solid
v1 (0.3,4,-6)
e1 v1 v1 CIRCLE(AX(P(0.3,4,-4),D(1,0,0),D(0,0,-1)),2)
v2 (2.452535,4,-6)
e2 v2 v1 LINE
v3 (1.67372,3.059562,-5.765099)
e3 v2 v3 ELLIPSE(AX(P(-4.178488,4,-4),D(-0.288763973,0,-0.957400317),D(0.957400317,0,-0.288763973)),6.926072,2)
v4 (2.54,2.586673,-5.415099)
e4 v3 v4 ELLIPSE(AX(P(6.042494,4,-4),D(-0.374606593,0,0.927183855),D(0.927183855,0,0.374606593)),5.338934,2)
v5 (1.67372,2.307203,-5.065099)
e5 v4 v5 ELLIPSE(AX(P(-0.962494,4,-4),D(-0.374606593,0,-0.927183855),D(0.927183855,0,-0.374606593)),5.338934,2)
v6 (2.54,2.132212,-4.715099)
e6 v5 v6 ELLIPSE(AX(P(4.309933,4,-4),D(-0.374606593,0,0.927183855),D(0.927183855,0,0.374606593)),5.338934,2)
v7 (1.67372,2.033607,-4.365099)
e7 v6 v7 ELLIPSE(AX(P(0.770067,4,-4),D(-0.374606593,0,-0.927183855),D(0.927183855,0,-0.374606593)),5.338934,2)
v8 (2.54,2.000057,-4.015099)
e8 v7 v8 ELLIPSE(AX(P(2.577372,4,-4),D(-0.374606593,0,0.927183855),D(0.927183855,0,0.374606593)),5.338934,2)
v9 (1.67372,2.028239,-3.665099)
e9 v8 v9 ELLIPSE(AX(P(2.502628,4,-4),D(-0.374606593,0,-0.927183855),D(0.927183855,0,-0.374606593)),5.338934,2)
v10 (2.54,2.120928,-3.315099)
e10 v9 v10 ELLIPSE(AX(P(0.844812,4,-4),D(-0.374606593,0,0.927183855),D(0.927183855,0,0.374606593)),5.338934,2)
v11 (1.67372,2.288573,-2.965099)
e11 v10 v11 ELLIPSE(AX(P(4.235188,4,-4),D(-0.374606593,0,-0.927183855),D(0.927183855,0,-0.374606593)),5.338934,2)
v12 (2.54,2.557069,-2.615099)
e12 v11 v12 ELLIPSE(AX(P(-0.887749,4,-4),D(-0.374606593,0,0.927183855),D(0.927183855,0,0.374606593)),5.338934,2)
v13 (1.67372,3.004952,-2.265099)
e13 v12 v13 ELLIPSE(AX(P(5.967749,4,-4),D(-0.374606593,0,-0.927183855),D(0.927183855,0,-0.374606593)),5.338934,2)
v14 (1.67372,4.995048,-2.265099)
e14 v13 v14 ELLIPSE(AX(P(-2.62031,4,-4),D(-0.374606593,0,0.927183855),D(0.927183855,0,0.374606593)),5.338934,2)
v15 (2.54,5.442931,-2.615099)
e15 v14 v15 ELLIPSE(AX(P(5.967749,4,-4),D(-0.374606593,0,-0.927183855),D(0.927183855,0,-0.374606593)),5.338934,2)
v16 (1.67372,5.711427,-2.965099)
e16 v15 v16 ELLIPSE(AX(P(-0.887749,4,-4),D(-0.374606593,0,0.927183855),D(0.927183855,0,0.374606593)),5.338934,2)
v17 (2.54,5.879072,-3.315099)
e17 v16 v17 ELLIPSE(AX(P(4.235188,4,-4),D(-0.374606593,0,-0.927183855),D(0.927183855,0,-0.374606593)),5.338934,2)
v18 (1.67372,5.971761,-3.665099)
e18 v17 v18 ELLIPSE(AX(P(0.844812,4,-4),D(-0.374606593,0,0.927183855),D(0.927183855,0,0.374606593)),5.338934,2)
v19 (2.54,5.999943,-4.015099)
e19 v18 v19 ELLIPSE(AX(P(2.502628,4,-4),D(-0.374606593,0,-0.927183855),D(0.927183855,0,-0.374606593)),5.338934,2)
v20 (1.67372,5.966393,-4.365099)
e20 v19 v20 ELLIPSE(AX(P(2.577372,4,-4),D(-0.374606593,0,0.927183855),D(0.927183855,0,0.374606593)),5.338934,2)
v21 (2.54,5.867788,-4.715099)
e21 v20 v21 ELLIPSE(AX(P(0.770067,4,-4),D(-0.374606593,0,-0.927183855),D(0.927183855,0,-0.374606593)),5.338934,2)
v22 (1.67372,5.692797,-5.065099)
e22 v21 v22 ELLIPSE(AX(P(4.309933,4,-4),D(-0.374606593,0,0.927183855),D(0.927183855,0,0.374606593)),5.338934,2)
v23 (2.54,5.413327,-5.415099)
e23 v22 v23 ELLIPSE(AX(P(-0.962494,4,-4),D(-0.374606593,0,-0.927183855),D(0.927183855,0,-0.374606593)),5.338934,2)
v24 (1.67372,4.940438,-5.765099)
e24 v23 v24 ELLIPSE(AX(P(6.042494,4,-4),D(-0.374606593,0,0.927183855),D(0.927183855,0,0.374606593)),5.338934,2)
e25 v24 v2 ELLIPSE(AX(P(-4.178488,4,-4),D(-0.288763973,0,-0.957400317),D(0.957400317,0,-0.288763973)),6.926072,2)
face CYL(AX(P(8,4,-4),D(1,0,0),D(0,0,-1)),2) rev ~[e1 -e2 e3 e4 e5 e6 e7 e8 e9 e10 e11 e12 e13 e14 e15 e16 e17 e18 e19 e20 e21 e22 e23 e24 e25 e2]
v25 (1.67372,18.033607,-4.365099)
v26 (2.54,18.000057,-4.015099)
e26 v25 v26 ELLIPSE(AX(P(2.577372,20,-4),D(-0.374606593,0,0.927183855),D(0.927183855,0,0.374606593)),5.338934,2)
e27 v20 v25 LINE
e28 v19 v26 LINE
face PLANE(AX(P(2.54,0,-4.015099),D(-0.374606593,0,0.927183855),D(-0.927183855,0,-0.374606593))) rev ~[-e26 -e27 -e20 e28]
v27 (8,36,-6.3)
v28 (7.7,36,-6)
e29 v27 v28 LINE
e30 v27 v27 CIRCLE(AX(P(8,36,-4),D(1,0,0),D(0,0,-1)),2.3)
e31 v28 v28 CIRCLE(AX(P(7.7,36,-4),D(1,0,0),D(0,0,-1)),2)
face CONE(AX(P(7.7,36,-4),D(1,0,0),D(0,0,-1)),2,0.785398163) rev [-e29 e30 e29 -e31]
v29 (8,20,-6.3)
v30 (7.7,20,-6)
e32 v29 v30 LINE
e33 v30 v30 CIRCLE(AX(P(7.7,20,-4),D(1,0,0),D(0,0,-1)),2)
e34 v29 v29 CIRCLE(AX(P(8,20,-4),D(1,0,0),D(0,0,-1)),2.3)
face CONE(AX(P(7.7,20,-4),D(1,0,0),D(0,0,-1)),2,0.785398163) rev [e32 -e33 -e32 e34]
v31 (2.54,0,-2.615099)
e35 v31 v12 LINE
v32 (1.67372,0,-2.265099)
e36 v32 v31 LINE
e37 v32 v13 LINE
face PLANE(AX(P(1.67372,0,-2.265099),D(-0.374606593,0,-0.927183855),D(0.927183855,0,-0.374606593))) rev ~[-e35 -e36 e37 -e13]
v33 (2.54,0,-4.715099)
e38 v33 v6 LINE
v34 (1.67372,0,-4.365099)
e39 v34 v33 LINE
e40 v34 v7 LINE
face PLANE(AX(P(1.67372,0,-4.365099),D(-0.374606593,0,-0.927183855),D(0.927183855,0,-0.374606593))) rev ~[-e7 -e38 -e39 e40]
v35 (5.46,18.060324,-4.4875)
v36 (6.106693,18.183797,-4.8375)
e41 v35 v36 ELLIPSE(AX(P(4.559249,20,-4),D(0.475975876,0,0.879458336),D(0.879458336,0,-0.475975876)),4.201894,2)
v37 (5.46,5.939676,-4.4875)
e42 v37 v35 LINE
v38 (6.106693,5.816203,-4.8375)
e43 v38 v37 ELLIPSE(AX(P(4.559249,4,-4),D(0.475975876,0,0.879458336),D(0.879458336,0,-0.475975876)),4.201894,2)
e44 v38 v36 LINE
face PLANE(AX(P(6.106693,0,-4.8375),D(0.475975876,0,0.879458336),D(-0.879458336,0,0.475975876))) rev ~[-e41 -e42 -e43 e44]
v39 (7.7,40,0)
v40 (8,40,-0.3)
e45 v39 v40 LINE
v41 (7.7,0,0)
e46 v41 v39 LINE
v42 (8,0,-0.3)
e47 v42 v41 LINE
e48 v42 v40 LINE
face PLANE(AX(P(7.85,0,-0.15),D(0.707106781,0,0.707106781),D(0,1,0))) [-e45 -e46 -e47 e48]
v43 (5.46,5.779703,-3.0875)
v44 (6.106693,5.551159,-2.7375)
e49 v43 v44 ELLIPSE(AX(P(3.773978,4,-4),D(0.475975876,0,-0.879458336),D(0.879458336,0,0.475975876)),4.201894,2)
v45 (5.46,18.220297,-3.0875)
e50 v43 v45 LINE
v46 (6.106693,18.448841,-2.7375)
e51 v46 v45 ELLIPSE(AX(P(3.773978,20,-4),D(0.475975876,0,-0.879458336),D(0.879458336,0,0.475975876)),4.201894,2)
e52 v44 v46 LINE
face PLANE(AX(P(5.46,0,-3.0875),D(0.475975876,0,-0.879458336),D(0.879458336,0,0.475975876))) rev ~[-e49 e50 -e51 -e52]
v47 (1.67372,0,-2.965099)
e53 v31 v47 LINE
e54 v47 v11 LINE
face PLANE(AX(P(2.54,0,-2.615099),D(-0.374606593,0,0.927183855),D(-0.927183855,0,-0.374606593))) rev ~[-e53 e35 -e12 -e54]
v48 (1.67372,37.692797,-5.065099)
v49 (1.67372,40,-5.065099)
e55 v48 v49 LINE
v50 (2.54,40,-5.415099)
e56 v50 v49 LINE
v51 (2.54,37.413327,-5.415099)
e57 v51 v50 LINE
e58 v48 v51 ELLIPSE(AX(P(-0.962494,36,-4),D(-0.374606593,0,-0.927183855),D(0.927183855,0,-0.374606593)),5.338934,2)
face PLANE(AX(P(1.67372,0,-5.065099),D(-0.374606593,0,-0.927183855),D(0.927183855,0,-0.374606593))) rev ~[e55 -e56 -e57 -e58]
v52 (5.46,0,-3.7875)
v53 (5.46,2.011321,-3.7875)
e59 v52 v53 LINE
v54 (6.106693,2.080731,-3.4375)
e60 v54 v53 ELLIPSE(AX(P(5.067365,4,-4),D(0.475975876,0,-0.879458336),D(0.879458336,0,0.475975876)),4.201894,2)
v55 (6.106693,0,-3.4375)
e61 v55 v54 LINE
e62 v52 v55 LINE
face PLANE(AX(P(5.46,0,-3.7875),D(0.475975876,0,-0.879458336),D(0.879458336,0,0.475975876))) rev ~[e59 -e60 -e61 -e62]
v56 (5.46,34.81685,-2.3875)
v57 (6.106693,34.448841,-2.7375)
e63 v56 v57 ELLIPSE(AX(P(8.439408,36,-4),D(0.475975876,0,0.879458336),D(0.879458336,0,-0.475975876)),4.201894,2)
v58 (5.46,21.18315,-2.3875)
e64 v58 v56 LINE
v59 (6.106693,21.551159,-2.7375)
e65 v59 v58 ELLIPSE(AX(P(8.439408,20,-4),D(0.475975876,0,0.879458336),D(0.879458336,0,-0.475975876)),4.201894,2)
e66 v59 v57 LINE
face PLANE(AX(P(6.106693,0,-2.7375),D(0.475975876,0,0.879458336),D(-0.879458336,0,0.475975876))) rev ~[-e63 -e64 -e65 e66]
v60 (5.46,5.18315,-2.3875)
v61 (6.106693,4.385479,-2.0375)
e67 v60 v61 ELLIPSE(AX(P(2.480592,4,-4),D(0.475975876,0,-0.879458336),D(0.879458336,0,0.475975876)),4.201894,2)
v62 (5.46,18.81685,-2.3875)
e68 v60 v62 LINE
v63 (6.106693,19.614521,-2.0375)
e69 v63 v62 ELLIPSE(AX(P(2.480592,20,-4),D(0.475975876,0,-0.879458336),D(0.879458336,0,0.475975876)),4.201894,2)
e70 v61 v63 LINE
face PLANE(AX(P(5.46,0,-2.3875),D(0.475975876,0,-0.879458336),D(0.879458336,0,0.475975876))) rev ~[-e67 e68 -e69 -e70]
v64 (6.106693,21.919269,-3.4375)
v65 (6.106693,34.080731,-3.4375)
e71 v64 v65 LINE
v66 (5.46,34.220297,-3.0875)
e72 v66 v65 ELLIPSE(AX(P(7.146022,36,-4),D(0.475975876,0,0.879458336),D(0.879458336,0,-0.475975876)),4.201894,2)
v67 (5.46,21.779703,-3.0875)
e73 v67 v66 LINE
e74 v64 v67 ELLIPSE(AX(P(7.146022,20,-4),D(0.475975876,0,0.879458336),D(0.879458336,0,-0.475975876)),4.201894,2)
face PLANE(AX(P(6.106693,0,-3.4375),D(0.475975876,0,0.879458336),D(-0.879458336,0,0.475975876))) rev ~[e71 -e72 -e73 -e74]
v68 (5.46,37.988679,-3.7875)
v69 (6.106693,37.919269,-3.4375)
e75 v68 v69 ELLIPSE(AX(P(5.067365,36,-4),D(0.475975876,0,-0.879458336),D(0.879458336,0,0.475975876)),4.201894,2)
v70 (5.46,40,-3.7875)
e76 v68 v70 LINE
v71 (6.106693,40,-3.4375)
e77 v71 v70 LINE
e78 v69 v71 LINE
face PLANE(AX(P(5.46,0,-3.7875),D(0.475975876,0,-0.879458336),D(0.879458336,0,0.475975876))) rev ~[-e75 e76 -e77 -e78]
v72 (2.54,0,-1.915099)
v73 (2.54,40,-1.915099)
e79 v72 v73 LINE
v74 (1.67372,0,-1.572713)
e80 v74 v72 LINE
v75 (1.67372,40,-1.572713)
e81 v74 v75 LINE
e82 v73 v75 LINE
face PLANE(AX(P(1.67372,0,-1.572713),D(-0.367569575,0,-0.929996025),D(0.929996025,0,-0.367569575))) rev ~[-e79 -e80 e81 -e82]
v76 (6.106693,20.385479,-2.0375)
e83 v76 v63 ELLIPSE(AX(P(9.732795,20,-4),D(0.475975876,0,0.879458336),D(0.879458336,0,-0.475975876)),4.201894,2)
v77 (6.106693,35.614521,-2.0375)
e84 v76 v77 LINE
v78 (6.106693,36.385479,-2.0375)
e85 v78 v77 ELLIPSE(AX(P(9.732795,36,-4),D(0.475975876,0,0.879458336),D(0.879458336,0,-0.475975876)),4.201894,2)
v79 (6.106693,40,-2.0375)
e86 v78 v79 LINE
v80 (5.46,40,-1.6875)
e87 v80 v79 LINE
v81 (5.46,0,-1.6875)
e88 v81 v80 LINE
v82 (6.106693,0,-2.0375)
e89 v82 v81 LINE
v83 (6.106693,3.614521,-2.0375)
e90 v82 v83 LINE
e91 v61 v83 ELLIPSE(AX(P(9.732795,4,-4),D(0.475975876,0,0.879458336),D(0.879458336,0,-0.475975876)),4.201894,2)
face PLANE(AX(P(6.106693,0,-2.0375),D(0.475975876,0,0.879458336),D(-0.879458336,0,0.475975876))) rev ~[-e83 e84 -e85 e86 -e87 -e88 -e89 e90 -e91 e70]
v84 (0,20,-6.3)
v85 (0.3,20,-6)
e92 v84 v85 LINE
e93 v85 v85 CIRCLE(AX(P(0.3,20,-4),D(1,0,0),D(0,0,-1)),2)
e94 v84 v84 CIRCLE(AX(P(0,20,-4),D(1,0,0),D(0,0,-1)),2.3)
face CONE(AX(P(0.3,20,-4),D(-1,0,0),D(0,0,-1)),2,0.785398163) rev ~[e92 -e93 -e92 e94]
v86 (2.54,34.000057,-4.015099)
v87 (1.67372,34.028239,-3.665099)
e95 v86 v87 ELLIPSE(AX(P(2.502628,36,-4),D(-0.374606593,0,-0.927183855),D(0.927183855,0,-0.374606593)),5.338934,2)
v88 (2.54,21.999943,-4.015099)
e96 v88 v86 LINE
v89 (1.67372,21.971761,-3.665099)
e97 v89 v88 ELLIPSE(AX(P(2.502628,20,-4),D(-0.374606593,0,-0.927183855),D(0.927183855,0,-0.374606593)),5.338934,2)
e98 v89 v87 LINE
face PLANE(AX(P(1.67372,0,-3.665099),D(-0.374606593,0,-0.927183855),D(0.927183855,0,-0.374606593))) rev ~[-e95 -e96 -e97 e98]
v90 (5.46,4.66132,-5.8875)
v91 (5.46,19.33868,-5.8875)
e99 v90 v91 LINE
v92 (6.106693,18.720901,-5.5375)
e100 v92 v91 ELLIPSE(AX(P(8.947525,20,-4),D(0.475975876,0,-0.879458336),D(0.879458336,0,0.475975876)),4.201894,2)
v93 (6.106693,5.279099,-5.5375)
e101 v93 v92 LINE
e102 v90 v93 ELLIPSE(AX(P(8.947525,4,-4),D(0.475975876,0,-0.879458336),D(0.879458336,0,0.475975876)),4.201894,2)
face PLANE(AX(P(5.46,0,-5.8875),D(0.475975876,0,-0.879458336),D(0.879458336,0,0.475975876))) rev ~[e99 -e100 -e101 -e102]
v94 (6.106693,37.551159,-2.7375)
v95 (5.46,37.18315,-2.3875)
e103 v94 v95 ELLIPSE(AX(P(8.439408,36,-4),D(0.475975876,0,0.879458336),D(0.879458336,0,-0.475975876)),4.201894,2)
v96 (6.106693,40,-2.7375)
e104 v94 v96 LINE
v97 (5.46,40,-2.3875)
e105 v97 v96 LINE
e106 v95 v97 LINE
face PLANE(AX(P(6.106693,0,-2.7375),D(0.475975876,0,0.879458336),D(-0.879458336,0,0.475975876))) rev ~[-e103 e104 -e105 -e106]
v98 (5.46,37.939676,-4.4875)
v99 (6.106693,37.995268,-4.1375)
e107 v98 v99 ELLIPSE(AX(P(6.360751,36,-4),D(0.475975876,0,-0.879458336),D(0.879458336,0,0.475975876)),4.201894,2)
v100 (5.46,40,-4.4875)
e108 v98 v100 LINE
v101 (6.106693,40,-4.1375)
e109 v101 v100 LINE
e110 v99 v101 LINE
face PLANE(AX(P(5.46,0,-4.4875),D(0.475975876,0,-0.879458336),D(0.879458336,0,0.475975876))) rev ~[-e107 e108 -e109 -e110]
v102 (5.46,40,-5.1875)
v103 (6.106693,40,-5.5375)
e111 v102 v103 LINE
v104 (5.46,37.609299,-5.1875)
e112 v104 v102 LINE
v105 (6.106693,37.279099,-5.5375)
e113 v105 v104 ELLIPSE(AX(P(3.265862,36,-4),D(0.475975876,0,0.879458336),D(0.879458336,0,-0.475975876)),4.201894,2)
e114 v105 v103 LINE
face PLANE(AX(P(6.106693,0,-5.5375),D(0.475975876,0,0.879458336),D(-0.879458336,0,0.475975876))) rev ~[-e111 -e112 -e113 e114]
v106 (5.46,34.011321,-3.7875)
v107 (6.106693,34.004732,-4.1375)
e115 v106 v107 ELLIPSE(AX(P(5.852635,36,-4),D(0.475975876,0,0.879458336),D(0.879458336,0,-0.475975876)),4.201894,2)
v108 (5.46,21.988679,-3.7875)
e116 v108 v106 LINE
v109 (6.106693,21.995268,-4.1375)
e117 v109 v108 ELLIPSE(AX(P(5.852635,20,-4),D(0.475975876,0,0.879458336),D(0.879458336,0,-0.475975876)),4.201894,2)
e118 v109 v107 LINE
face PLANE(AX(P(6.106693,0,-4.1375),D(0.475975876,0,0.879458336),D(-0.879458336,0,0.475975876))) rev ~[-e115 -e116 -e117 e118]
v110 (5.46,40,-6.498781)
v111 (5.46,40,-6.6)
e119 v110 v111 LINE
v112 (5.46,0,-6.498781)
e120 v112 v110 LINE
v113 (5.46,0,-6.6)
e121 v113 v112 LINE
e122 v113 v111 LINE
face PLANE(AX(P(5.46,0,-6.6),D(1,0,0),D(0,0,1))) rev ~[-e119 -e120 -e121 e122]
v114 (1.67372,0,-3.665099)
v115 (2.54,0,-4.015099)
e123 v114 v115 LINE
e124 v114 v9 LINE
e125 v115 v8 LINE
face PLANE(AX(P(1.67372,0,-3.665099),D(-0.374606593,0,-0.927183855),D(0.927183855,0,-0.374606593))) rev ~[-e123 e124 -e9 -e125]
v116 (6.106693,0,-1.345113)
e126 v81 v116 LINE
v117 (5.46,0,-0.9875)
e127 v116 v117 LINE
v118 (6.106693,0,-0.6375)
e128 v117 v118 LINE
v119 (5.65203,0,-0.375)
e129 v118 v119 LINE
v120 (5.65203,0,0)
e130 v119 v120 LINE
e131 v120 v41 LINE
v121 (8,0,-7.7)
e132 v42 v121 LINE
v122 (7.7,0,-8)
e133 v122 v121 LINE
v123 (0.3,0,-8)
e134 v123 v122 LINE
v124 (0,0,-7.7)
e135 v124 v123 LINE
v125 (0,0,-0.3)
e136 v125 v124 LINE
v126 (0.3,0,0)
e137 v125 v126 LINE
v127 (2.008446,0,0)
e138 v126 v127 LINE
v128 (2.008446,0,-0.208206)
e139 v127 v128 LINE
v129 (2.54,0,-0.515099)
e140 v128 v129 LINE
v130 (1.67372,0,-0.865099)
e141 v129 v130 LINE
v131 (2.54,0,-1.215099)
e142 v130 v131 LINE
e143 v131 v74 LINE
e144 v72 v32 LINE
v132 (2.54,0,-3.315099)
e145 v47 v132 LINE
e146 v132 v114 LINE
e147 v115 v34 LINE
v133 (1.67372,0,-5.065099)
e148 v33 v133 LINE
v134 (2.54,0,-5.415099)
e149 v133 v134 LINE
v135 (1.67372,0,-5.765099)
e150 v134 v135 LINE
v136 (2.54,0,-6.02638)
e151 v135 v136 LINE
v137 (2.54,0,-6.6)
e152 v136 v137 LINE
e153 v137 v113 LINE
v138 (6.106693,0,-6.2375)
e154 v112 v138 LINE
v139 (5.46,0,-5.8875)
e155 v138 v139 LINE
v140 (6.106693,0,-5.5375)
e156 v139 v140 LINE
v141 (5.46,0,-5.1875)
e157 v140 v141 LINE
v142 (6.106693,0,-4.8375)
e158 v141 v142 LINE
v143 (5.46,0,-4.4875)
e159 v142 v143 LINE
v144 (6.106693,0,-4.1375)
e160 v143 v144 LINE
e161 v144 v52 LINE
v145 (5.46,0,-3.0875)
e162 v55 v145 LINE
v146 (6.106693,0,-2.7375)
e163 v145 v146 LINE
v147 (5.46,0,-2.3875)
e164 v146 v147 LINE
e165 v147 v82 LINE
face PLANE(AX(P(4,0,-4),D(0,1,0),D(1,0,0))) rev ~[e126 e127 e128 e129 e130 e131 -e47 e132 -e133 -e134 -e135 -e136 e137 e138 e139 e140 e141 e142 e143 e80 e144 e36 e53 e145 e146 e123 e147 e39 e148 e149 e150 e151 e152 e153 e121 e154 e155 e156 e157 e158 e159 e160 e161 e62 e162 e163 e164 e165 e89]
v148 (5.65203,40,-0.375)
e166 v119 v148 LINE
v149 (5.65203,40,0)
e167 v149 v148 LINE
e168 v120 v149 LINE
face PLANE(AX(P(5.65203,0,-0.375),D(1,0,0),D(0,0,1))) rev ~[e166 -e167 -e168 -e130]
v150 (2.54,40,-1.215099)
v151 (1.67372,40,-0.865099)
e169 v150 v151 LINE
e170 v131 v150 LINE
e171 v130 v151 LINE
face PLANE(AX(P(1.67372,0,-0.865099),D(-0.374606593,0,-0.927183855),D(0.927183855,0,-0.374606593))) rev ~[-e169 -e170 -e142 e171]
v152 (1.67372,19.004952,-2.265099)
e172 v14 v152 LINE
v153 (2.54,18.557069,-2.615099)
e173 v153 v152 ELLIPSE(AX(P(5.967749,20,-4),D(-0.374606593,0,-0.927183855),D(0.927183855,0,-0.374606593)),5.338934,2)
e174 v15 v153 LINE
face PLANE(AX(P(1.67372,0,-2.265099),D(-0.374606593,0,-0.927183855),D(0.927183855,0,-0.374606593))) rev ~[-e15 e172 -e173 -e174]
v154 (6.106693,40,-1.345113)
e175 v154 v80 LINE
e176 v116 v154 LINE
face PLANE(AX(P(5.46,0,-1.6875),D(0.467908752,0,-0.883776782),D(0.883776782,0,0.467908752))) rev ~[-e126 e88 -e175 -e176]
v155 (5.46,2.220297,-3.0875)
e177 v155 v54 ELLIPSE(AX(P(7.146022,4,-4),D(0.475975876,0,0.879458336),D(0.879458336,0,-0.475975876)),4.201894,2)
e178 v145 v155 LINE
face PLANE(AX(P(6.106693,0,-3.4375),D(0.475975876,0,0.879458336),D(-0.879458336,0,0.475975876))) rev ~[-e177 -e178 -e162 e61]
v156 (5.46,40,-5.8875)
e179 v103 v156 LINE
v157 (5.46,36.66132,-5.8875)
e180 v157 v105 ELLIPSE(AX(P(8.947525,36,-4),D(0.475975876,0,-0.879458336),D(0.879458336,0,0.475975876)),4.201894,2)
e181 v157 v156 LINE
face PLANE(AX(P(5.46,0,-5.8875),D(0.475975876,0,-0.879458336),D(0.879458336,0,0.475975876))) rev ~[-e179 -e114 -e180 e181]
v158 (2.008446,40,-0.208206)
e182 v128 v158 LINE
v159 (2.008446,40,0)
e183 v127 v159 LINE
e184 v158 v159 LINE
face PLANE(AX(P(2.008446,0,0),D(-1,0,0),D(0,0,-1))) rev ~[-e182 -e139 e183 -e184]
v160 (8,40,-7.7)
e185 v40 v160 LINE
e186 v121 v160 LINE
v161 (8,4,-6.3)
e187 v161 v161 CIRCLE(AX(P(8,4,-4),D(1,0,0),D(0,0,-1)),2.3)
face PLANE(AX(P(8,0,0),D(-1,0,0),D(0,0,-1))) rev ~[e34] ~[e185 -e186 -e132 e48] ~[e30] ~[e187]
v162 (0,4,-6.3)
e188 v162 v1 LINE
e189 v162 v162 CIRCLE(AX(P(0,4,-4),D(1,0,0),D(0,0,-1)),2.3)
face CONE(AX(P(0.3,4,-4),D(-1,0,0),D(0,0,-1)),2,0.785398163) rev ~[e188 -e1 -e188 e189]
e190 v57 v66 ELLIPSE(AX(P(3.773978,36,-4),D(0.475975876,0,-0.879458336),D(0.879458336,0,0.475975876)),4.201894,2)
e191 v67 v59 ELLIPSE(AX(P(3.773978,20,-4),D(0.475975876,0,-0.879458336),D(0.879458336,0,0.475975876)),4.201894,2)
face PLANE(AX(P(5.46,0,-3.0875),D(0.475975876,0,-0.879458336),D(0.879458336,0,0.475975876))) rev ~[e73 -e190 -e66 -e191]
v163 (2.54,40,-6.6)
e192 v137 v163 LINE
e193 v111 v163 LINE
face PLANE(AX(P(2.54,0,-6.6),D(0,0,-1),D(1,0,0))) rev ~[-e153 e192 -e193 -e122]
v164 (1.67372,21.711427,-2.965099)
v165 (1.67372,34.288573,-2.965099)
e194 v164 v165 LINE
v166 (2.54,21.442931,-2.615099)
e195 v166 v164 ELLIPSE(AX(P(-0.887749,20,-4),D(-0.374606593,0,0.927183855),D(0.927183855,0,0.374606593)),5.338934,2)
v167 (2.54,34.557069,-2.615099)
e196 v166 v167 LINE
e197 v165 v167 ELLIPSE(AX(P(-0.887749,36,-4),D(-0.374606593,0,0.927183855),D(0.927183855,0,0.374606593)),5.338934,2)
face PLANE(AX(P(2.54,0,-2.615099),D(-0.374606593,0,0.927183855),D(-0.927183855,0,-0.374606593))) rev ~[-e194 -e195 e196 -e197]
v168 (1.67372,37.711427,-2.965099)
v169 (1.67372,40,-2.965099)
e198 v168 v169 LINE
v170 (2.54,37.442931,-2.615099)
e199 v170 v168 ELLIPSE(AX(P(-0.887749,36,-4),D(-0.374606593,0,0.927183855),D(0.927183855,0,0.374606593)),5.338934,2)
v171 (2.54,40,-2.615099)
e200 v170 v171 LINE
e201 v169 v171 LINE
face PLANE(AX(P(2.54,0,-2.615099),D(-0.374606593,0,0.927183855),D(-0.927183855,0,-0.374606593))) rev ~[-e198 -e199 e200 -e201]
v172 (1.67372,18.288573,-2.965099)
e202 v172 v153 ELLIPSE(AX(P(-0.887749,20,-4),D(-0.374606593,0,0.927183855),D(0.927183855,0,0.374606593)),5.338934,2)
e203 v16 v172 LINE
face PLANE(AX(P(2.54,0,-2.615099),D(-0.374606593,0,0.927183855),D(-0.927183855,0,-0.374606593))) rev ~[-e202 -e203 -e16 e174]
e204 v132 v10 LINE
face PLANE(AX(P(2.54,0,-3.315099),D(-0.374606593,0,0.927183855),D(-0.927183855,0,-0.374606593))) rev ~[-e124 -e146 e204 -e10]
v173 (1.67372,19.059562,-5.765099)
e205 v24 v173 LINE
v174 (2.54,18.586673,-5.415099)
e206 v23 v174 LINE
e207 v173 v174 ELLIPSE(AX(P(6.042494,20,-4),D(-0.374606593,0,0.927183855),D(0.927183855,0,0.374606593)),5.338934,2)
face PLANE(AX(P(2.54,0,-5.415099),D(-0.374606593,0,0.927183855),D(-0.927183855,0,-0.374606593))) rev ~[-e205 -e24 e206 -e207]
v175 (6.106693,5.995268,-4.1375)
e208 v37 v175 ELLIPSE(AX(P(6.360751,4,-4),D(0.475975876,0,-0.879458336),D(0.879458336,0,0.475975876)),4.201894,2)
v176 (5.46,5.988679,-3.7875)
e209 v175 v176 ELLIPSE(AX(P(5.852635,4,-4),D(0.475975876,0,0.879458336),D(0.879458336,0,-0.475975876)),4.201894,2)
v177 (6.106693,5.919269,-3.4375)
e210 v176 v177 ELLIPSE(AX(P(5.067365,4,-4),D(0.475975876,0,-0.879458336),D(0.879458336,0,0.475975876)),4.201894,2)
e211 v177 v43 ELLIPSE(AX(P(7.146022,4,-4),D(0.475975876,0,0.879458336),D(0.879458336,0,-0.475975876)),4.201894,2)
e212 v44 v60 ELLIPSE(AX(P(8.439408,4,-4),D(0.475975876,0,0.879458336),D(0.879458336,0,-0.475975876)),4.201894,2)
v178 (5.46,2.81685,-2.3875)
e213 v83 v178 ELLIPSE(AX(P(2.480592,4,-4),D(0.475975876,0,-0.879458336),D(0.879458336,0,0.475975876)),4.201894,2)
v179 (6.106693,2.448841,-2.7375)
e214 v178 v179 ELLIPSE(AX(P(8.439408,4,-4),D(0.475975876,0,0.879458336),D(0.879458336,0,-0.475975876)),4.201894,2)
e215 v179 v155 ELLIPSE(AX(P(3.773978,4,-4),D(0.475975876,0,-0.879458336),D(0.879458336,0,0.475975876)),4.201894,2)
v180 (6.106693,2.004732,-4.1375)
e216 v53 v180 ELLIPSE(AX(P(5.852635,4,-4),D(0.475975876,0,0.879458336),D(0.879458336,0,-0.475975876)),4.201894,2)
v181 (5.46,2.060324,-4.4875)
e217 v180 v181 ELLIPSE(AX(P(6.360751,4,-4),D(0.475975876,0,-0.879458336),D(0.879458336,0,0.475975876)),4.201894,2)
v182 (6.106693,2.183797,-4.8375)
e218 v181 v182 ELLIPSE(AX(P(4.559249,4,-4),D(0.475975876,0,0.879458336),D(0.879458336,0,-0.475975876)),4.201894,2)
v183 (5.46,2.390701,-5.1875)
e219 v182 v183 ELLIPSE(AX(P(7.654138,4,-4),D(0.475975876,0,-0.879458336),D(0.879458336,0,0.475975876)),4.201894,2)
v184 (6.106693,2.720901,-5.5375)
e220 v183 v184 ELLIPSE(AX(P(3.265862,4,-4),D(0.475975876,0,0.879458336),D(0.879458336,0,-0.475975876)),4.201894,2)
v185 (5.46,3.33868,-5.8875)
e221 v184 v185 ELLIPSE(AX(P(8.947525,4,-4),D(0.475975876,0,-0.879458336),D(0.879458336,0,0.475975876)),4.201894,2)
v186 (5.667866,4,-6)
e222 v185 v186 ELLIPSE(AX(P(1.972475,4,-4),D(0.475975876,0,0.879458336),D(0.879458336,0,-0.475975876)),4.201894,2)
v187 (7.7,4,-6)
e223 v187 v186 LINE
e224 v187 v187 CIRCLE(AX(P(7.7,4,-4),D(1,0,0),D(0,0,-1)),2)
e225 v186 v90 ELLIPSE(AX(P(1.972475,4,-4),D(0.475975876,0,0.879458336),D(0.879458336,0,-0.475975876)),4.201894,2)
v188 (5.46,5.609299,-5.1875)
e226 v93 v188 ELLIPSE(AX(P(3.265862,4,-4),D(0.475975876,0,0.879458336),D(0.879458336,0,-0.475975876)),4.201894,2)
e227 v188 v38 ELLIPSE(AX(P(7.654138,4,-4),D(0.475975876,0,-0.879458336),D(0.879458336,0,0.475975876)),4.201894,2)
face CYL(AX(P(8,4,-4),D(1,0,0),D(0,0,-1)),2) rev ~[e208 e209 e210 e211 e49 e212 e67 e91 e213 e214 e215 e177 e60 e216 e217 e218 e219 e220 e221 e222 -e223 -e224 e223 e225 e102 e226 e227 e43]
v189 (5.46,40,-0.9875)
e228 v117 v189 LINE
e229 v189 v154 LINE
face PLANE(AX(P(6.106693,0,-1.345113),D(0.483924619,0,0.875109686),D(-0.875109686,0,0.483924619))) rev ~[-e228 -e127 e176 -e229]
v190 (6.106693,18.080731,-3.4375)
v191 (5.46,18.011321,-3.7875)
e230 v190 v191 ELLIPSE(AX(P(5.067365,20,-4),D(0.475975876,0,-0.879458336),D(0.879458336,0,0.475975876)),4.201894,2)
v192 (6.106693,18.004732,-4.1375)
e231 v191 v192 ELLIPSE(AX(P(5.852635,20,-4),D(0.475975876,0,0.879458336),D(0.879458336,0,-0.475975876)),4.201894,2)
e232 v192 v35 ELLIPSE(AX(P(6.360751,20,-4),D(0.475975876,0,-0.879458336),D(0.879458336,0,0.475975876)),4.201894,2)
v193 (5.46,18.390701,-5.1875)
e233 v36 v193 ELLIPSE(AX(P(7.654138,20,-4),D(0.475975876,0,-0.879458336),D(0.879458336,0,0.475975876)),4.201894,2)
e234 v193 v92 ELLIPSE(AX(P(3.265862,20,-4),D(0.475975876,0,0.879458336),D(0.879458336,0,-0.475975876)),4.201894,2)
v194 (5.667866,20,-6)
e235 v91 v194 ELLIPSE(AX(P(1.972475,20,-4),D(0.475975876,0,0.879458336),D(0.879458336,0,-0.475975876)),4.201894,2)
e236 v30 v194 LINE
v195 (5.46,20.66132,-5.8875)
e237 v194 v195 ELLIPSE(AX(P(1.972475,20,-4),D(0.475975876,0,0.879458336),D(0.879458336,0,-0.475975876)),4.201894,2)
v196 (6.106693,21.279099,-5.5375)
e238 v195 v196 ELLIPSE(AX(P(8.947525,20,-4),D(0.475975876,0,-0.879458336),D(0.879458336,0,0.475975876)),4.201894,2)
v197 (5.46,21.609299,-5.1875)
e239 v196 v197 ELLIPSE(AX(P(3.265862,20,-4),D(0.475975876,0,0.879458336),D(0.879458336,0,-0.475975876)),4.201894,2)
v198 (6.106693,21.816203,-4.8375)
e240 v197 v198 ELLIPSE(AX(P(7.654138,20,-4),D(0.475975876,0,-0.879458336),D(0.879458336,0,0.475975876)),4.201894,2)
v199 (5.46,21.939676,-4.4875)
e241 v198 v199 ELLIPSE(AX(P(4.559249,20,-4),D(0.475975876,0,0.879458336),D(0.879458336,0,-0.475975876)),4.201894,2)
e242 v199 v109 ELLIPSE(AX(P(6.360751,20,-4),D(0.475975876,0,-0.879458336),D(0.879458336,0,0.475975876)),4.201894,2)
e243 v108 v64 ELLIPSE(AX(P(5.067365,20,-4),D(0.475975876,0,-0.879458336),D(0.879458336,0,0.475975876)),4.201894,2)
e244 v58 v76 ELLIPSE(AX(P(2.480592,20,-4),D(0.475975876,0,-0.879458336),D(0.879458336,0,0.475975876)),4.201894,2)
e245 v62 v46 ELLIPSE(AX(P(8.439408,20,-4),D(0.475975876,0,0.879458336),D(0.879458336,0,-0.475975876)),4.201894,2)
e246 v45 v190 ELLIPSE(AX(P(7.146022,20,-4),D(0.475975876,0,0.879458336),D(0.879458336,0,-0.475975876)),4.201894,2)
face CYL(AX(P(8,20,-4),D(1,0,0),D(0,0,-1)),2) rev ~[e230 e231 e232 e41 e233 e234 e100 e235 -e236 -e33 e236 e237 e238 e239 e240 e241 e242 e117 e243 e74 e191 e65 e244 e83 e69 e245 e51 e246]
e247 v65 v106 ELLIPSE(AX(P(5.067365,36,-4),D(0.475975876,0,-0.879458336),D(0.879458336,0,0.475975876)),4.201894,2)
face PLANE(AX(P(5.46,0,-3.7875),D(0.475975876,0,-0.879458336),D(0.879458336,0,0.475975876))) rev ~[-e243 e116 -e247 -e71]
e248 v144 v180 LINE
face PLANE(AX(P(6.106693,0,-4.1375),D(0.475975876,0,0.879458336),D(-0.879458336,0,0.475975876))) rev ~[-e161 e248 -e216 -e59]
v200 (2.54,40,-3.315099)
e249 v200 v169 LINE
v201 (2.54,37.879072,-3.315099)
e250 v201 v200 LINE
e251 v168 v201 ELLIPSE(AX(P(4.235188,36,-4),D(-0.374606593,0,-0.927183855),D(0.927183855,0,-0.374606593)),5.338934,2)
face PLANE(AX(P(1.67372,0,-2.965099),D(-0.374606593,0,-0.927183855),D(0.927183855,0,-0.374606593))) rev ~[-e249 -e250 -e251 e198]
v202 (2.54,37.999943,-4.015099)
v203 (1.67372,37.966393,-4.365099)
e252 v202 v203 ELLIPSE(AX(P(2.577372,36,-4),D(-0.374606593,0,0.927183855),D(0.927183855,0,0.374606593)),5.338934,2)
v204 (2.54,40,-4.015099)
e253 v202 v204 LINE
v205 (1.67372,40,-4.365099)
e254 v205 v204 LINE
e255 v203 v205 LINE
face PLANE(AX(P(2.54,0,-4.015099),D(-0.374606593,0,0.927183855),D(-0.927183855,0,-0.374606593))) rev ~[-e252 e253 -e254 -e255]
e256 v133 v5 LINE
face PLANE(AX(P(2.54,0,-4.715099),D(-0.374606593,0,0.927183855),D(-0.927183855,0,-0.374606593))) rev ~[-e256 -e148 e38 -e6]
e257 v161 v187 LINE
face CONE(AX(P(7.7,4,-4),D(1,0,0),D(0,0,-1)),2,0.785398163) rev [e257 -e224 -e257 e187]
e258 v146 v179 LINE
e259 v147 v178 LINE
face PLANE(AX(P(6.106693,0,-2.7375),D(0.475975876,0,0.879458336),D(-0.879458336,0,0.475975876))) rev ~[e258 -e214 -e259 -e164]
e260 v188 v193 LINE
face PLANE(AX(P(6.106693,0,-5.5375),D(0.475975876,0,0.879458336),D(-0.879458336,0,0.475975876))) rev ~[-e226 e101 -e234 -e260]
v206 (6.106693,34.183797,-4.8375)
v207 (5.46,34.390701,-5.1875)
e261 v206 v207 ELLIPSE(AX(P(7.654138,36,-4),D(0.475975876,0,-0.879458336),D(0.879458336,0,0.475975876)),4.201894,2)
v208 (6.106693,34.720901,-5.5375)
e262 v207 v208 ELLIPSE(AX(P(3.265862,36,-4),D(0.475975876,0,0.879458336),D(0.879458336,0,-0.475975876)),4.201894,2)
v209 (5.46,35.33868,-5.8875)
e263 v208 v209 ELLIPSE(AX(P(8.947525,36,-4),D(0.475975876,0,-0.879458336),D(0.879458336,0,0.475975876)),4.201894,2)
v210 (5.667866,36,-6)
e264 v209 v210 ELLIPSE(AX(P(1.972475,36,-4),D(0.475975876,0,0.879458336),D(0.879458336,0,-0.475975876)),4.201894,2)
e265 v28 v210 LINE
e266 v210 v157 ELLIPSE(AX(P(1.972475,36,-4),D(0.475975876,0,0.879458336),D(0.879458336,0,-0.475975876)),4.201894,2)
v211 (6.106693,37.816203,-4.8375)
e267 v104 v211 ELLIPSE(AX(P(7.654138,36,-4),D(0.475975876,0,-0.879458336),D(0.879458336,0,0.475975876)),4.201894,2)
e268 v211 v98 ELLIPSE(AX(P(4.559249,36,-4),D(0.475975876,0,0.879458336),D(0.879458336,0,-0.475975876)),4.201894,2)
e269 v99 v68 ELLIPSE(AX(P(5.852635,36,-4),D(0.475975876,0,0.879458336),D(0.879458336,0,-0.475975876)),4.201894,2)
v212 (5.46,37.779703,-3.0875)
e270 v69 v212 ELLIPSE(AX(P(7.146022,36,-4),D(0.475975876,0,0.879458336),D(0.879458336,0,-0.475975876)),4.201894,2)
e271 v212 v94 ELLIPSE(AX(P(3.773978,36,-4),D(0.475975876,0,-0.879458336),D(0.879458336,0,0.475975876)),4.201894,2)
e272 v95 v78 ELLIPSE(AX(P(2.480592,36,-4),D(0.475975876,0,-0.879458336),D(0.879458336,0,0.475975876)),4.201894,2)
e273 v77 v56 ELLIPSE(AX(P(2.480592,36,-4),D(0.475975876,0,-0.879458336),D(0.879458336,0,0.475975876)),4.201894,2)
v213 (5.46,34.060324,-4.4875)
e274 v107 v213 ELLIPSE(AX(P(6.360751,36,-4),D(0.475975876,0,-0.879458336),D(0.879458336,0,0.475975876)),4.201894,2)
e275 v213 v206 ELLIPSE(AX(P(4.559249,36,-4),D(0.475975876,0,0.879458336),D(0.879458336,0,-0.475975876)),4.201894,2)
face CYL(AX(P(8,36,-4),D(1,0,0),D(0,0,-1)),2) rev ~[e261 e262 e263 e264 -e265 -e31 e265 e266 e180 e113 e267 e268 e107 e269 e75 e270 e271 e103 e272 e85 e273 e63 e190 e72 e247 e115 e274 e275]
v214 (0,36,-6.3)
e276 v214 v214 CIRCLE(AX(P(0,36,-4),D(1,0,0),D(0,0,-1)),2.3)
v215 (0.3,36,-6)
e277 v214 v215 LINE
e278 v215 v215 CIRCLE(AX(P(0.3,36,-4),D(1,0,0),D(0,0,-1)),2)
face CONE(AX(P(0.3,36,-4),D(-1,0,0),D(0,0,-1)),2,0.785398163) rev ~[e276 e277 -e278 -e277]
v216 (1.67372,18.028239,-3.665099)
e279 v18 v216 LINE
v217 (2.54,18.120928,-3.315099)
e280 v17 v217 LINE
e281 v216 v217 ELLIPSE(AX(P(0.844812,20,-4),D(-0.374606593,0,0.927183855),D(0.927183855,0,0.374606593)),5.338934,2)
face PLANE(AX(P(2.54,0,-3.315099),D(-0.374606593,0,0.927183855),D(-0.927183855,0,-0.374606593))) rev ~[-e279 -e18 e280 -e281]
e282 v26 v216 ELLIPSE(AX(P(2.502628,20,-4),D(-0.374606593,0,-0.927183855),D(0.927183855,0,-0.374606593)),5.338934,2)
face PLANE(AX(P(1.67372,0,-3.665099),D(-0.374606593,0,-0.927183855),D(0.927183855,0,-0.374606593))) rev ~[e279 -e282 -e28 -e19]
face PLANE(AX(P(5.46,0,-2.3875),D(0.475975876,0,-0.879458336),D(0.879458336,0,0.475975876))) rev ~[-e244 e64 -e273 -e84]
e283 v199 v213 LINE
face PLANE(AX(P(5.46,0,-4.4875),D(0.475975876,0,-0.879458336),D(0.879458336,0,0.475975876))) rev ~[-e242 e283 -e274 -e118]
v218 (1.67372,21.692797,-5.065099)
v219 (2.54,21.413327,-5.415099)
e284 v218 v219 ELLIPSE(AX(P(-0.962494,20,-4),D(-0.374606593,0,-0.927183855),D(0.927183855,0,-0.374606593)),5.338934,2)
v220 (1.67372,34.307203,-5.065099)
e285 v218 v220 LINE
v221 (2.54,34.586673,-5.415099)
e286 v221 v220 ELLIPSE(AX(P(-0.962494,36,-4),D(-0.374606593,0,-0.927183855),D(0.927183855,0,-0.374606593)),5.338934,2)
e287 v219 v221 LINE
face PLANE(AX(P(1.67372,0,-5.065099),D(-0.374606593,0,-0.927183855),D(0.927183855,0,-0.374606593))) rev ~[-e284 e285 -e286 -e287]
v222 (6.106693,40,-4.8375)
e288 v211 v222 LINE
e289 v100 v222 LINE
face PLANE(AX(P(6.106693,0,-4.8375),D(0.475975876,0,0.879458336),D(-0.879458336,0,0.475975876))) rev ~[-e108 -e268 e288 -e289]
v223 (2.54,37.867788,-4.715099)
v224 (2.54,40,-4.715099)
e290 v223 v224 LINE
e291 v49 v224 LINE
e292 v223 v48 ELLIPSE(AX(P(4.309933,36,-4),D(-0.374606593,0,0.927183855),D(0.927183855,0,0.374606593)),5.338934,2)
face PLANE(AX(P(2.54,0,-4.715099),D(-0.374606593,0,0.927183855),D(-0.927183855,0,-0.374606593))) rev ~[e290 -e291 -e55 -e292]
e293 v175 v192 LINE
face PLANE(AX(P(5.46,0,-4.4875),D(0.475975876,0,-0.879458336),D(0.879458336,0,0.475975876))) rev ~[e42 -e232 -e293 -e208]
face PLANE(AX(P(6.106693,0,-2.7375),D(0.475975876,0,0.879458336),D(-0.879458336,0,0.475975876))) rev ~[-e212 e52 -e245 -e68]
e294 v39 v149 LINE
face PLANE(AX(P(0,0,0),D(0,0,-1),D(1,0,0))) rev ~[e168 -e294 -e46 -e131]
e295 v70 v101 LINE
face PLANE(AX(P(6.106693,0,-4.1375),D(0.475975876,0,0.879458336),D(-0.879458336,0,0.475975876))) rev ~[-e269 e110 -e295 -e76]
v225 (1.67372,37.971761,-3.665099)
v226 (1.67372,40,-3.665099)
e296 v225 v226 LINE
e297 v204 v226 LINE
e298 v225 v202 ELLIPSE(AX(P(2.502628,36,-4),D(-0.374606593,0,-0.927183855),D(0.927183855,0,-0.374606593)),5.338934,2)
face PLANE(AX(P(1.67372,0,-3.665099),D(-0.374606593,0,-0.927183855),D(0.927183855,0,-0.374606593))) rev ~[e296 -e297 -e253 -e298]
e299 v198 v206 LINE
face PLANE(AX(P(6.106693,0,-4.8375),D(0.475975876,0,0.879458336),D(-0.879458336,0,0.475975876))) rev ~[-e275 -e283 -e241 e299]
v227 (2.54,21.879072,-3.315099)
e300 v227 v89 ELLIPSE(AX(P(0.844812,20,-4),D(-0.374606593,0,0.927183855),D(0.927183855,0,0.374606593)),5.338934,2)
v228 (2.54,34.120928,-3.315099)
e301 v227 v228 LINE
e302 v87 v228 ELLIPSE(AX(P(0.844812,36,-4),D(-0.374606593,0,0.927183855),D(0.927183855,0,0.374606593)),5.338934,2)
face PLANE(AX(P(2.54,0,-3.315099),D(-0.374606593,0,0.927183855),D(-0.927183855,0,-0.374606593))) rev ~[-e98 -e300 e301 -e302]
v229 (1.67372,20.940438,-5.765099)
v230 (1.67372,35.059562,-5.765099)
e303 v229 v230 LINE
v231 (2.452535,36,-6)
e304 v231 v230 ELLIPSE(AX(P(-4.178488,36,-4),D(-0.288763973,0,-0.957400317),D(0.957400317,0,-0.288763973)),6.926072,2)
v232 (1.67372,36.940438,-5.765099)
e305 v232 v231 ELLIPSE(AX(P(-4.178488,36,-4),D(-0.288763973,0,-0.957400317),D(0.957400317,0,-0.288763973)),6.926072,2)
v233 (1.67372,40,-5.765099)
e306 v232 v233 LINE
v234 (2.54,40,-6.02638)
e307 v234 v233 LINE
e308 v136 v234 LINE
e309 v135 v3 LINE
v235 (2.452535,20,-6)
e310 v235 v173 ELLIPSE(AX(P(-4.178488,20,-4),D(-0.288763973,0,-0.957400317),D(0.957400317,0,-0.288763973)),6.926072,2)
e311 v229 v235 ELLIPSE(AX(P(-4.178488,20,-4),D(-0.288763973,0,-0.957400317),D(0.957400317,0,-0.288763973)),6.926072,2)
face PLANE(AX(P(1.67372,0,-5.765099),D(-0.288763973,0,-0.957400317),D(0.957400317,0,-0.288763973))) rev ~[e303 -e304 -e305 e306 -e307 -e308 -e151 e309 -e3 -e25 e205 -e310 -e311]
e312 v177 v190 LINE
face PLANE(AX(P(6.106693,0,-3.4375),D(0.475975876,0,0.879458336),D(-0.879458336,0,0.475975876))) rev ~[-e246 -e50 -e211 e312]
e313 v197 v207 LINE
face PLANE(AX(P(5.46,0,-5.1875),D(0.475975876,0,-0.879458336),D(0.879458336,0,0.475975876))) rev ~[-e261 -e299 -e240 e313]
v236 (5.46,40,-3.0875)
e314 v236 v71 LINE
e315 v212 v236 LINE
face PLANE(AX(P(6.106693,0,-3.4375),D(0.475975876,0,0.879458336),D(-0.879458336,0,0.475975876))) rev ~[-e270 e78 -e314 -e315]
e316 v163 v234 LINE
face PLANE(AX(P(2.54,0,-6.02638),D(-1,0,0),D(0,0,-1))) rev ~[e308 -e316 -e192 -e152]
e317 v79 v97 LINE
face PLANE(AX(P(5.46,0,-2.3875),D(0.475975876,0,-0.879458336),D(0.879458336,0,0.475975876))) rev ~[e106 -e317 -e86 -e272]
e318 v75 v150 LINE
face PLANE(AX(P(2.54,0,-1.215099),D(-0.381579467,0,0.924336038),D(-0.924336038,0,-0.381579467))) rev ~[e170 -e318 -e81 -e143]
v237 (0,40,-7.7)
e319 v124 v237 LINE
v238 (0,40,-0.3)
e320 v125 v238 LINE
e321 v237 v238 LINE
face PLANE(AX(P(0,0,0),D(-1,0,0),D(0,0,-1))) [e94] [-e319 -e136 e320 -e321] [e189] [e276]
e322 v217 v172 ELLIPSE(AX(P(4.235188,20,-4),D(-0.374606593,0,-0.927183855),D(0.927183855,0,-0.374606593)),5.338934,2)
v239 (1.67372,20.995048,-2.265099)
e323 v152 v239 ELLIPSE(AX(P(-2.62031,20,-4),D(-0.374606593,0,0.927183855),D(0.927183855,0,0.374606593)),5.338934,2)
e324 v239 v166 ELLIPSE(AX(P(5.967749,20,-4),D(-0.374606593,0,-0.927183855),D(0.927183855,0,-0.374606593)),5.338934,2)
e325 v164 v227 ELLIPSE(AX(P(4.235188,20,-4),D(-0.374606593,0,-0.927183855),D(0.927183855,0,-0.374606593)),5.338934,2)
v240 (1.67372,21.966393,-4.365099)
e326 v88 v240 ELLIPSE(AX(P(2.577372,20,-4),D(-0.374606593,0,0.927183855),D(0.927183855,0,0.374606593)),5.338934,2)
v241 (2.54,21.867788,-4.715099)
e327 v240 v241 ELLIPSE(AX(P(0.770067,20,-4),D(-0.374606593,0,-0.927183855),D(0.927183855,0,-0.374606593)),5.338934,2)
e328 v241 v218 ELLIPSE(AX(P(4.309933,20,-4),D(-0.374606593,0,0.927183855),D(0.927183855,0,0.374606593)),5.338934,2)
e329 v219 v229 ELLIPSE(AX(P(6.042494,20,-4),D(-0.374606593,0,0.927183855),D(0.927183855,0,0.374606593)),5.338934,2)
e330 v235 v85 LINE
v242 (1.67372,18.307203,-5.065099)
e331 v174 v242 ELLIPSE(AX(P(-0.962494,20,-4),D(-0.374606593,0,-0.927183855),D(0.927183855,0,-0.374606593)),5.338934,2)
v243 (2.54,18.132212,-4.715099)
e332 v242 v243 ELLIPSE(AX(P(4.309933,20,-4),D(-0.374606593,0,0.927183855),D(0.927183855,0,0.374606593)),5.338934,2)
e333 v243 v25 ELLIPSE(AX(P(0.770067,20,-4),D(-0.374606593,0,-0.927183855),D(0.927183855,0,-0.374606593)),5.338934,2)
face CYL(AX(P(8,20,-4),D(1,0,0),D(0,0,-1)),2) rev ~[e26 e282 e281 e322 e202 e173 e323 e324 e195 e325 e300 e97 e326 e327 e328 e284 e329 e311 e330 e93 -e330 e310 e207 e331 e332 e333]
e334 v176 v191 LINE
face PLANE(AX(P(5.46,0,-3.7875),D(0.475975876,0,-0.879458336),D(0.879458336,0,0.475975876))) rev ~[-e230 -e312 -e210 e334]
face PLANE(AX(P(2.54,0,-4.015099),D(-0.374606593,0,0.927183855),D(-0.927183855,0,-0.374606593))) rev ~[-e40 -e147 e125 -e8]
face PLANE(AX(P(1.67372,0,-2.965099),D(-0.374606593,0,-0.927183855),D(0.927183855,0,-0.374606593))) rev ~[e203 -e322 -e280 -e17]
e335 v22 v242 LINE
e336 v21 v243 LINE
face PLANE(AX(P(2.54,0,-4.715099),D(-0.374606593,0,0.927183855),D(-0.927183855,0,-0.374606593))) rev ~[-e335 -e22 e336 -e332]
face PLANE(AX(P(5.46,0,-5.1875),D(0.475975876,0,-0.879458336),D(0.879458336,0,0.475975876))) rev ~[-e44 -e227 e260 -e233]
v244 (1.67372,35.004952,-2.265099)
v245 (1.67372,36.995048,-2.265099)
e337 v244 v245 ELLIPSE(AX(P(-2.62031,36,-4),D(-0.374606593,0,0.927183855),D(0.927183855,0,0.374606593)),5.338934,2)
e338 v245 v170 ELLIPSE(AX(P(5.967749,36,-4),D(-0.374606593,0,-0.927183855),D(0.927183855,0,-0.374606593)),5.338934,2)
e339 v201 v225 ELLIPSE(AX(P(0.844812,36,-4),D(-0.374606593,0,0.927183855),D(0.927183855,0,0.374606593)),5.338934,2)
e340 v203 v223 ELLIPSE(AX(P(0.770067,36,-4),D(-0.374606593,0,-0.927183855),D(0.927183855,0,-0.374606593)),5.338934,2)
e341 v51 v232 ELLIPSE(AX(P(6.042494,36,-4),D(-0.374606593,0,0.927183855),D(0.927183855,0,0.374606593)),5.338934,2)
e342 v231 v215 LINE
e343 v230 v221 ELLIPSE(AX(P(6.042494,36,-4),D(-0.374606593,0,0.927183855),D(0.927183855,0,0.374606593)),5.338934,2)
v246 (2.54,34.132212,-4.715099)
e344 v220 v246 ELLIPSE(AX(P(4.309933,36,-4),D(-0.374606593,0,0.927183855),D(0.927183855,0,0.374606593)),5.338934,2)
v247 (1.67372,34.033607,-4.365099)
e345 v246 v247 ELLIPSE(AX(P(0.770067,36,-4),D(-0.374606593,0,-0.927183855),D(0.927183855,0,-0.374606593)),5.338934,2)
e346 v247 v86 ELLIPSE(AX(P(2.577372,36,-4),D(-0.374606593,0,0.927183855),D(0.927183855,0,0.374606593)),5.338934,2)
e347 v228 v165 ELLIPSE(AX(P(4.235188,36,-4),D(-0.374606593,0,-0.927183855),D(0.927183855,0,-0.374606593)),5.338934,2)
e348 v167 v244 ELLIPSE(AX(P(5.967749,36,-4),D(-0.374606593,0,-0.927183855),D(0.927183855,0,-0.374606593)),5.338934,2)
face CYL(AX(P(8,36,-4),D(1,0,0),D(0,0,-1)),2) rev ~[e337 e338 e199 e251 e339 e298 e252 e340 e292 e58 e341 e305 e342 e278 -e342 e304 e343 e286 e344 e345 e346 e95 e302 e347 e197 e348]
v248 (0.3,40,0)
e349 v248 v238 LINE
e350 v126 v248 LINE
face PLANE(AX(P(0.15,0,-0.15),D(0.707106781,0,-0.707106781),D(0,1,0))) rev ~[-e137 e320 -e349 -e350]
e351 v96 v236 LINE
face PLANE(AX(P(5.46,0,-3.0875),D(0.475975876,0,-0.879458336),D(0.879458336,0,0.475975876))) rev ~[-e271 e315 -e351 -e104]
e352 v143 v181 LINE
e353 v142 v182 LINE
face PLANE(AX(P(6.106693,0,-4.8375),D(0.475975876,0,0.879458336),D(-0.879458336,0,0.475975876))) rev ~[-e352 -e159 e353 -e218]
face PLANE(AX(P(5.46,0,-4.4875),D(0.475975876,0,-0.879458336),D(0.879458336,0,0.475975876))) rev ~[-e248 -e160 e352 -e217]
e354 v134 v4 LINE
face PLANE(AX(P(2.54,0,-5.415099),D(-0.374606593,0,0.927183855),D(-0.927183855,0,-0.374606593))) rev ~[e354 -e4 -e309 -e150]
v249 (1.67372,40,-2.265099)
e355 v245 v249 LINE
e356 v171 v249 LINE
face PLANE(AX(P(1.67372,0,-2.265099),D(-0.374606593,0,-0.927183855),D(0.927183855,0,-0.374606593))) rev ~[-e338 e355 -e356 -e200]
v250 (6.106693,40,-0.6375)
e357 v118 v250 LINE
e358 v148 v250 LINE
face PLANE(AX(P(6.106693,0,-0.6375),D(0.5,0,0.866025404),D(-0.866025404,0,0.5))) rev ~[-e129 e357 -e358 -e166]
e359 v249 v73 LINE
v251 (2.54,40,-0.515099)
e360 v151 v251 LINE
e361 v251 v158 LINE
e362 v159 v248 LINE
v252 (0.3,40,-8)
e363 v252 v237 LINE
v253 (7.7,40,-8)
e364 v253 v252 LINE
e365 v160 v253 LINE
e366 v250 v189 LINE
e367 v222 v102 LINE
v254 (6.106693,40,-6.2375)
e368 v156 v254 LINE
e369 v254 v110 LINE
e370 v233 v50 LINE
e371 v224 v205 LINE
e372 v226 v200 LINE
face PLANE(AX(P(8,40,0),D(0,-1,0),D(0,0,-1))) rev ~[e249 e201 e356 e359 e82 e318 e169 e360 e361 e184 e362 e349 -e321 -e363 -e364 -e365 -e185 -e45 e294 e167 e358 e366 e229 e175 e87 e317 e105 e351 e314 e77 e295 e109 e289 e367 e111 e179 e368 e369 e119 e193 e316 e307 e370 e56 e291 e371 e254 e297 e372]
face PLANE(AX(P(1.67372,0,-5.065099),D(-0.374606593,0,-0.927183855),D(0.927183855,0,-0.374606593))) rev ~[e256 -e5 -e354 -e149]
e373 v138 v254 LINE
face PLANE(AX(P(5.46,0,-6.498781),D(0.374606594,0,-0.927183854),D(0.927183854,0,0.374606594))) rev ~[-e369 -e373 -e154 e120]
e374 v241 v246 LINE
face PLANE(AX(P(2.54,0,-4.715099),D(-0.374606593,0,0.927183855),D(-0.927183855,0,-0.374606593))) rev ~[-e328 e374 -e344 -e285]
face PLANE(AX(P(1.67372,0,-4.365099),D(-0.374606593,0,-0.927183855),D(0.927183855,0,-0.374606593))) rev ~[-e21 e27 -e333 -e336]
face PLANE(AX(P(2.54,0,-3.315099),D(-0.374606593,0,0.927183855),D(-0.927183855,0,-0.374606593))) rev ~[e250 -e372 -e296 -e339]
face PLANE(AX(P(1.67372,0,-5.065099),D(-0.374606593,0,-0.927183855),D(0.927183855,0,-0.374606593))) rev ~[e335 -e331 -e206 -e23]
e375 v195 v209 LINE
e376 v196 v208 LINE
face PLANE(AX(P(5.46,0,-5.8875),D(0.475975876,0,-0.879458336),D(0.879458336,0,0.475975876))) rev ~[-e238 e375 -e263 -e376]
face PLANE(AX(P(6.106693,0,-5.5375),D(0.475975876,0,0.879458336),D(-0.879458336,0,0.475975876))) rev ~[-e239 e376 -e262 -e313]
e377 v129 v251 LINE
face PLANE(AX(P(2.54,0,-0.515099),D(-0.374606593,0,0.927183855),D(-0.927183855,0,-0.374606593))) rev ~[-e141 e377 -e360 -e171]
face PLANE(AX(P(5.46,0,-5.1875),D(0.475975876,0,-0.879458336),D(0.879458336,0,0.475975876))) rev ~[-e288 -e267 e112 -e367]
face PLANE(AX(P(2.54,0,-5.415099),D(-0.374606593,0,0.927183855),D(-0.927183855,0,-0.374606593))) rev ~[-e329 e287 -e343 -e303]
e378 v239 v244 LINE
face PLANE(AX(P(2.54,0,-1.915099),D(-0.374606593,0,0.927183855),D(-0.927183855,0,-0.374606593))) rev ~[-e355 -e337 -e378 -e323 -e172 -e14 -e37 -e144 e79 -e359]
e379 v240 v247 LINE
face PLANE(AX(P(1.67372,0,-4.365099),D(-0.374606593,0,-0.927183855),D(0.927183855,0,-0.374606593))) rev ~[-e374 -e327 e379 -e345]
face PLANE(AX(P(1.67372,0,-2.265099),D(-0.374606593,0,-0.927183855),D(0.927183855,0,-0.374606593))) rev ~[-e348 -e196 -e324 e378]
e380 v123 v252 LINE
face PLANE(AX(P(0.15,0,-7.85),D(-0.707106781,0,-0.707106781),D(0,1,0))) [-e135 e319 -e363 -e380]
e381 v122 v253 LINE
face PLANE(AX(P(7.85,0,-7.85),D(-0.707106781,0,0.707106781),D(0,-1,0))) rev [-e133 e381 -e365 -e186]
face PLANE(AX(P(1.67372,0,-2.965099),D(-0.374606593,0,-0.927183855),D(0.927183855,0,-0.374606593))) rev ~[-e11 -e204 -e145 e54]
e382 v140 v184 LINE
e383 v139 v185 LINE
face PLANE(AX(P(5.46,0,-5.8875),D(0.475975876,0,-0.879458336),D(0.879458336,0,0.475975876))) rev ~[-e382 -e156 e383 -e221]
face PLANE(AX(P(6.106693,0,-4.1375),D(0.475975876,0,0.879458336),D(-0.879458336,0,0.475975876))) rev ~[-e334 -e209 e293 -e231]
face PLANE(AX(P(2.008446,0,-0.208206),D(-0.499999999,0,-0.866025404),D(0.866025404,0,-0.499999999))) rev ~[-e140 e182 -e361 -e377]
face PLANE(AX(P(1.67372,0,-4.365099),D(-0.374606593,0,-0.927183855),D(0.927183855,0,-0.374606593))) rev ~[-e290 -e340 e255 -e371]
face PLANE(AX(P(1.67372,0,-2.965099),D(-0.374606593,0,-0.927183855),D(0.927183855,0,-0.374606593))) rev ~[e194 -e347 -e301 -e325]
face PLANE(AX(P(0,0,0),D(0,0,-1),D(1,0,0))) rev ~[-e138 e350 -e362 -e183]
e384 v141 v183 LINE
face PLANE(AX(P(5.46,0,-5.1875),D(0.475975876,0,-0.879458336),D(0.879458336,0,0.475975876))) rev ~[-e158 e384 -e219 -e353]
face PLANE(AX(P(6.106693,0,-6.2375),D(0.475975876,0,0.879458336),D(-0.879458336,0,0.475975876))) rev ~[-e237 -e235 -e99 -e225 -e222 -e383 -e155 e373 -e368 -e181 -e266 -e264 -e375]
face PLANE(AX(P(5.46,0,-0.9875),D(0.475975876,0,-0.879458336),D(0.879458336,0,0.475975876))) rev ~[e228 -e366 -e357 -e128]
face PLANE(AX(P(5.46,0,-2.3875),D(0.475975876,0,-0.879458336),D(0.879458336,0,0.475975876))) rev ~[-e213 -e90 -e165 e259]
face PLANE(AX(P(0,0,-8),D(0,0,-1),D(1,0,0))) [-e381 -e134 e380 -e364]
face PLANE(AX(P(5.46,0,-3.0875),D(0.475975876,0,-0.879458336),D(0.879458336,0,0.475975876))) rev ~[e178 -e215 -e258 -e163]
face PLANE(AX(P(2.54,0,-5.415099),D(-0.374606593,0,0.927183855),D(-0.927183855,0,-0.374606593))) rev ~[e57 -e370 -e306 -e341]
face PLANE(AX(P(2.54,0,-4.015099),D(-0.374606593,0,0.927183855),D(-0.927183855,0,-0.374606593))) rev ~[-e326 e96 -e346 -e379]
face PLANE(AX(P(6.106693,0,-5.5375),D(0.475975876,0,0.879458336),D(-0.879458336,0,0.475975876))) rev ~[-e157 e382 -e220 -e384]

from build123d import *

# Parameters (mm, degrees)
SKETCH1_W                  = 8
SKETCH1_H                  = 8
BOSS_EXTRUDE1_DEPTH        = 300
CUT_EXTRUDE1_DEPTH         = 301.213257535
SKETCH3_R                  = 2
CUT_EXTRUDE2_DEPTH         = 301.213257535
CHAMFER1_SIZE              = 0.3
CHAMFER2_SIZE              = 0.3
LPATTERN1_COUNT            = 19
LPATTERN1_PITCH            = 16
CHAMFER1_OF_LPATTERN1_SIZE = 0.3
SKETCH4_W                  = 8
SKETCH4_H                  = 260
CUT_EXTRUDE3_DEPTH         = 301.213257535


with BuildPart() as part:
    # Sketch1 → Boss-Extrude1 (new body)
    with BuildSketch(Plane(origin=(0, 0, 0), x_dir=(1, 0, 0), z_dir=(0, 1, 0))):
        with Locations((4, 4)):
            Rectangle(SKETCH1_W, SKETCH1_H)
    extrude(amount=BOSS_EXTRUDE1_DEPTH)

    # Sketch2 → Cut-Extrude1 (cut, through all)
    with BuildSketch(Plane.XZ):
        Polygon((5.652029979, 0), (2.008445554, 0), (2.008445554, -0.208206305), (2.54, -0.515099407), (1.673719601, -0.865099407), (2.54, -1.215099407), (1.673719601, -1.572712655), (2.54, -1.915099407), (1.673719601, -2.265099407), (2.54, -2.615099407), (1.673719601, -2.965099407), (2.54, -3.315099407), (1.673719601, -3.665099407), (2.54, -4.015099407), (1.673719601, -4.365099407), (2.54, -4.715099407), (1.673719601, -5.065099407), (2.54, -5.415099407), (1.673719601, -5.765099407), (2.54, -6.026380467), (2.54, -6.6), (5.46, -6.6), (5.46, -6.49878106), (6.106693316, -6.2375), (5.46, -5.8875), (6.106693316, -5.5375), (5.46, -5.1875), (6.106693316, -4.8375), (5.46, -4.4875), (6.106693316, -4.1375), (5.46, -3.7875), (6.106693316, -3.4375), (5.46, -3.0875), (6.106693316, -2.7375), (5.46, -2.3875), (6.106693316, -2.0375), (5.46, -1.6875), (6.106693316, -1.345113247), (5.46, -0.9875), (6.106693316, -0.6375), (5.652029979, -0.375), align=None)
    extrude(amount=-CUT_EXTRUDE1_DEPTH, mode=Mode.SUBTRACT)

    # Sketch3 → Cut-Extrude2 (cut, through all)
    with BuildSketch(Plane(origin=(8, 0, 0), x_dir=(0, 0, -1), z_dir=(1, 0, 0))):
        with Locations((4, 4)):
            Circle(SKETCH3_R)
    cut_extrude2 = extrude(amount=-CUT_EXTRUDE2_DEPTH, mode=Mode.SUBTRACT)

    # Chamfer1
    chamfer1_edges = [part.edges().sort_by_distance(p)[0] for p in [
        (0, 4, -2),
        (8, 4, -2),
    ]]
    chamfer(chamfer1_edges, length=CHAMFER1_SIZE)

    # Chamfer2
    chamfer2_edges = [part.edges().sort_by_distance(p)[0] for p in [
        (0, 150, -8),
        (8, 150, -8),
        (8, 150, 0),
        (0, 150, 0),
    ]]
    chamfer(chamfer2_edges, length=CHAMFER2_SIZE)

    # LPattern1: Cut-Extrude2 ×19
    with Locations(*[(0, i * LPATTERN1_PITCH, 0) for i in range(1, LPATTERN1_COUNT)]):
        add(cut_extrude2, mode=Mode.SUBTRACT)

    # Chamfer1 of LPattern1
    chamfer1_of_lpattern1_edges = [part.edges().sort_by_distance(p)[0] for p in [
        (0, 20, -2),
        (8, 20, -2),
        (0, 36, -2),
        (8, 36, -2),
        (0, 52, -2),
        (8, 52, -2),
        (0, 68, -2),
        (8, 68, -2),
        (0, 84, -2),
        (8, 84, -2),
        (0, 100, -2),
        (8, 100, -2),
        (0, 116, -2),
        (8, 116, -2),
        (0, 132, -2),
        (8, 132, -2),
        (0, 148, -2),
        (8, 148, -2),
        (0, 164, -2),
        (8, 164, -2),
        (0, 180, -2),
        (8, 180, -2),
        (0, 196, -2),
        (8, 196, -2),
        (0, 212, -2),
        (8, 212, -2),
        (0, 228, -2),
        (8, 228, -2),
        (0, 244, -2),
        (8, 244, -2),
        (0, 260, -2),
        (8, 260, -2),
        (0, 276, -2),
        (8, 276, -2),
        (0, 292, -2),
        (8, 292, -2),
    ]]
    chamfer(chamfer1_of_lpattern1_edges, length=CHAMFER1_OF_LPATTERN1_SIZE)

    # Sketch4 → Cut-Extrude3 (cut, through all)
    with BuildSketch(Plane(origin=(8, 0, 0), x_dir=(0, 0, -1), z_dir=(1, 0, 0))):
        with Locations((4, 170)):
            Rectangle(SKETCH4_W, SKETCH4_H)
    extrude(amount=-CUT_EXTRUDE3_DEPTH, mode=Mode.SUBTRACT)


solid = part.part
